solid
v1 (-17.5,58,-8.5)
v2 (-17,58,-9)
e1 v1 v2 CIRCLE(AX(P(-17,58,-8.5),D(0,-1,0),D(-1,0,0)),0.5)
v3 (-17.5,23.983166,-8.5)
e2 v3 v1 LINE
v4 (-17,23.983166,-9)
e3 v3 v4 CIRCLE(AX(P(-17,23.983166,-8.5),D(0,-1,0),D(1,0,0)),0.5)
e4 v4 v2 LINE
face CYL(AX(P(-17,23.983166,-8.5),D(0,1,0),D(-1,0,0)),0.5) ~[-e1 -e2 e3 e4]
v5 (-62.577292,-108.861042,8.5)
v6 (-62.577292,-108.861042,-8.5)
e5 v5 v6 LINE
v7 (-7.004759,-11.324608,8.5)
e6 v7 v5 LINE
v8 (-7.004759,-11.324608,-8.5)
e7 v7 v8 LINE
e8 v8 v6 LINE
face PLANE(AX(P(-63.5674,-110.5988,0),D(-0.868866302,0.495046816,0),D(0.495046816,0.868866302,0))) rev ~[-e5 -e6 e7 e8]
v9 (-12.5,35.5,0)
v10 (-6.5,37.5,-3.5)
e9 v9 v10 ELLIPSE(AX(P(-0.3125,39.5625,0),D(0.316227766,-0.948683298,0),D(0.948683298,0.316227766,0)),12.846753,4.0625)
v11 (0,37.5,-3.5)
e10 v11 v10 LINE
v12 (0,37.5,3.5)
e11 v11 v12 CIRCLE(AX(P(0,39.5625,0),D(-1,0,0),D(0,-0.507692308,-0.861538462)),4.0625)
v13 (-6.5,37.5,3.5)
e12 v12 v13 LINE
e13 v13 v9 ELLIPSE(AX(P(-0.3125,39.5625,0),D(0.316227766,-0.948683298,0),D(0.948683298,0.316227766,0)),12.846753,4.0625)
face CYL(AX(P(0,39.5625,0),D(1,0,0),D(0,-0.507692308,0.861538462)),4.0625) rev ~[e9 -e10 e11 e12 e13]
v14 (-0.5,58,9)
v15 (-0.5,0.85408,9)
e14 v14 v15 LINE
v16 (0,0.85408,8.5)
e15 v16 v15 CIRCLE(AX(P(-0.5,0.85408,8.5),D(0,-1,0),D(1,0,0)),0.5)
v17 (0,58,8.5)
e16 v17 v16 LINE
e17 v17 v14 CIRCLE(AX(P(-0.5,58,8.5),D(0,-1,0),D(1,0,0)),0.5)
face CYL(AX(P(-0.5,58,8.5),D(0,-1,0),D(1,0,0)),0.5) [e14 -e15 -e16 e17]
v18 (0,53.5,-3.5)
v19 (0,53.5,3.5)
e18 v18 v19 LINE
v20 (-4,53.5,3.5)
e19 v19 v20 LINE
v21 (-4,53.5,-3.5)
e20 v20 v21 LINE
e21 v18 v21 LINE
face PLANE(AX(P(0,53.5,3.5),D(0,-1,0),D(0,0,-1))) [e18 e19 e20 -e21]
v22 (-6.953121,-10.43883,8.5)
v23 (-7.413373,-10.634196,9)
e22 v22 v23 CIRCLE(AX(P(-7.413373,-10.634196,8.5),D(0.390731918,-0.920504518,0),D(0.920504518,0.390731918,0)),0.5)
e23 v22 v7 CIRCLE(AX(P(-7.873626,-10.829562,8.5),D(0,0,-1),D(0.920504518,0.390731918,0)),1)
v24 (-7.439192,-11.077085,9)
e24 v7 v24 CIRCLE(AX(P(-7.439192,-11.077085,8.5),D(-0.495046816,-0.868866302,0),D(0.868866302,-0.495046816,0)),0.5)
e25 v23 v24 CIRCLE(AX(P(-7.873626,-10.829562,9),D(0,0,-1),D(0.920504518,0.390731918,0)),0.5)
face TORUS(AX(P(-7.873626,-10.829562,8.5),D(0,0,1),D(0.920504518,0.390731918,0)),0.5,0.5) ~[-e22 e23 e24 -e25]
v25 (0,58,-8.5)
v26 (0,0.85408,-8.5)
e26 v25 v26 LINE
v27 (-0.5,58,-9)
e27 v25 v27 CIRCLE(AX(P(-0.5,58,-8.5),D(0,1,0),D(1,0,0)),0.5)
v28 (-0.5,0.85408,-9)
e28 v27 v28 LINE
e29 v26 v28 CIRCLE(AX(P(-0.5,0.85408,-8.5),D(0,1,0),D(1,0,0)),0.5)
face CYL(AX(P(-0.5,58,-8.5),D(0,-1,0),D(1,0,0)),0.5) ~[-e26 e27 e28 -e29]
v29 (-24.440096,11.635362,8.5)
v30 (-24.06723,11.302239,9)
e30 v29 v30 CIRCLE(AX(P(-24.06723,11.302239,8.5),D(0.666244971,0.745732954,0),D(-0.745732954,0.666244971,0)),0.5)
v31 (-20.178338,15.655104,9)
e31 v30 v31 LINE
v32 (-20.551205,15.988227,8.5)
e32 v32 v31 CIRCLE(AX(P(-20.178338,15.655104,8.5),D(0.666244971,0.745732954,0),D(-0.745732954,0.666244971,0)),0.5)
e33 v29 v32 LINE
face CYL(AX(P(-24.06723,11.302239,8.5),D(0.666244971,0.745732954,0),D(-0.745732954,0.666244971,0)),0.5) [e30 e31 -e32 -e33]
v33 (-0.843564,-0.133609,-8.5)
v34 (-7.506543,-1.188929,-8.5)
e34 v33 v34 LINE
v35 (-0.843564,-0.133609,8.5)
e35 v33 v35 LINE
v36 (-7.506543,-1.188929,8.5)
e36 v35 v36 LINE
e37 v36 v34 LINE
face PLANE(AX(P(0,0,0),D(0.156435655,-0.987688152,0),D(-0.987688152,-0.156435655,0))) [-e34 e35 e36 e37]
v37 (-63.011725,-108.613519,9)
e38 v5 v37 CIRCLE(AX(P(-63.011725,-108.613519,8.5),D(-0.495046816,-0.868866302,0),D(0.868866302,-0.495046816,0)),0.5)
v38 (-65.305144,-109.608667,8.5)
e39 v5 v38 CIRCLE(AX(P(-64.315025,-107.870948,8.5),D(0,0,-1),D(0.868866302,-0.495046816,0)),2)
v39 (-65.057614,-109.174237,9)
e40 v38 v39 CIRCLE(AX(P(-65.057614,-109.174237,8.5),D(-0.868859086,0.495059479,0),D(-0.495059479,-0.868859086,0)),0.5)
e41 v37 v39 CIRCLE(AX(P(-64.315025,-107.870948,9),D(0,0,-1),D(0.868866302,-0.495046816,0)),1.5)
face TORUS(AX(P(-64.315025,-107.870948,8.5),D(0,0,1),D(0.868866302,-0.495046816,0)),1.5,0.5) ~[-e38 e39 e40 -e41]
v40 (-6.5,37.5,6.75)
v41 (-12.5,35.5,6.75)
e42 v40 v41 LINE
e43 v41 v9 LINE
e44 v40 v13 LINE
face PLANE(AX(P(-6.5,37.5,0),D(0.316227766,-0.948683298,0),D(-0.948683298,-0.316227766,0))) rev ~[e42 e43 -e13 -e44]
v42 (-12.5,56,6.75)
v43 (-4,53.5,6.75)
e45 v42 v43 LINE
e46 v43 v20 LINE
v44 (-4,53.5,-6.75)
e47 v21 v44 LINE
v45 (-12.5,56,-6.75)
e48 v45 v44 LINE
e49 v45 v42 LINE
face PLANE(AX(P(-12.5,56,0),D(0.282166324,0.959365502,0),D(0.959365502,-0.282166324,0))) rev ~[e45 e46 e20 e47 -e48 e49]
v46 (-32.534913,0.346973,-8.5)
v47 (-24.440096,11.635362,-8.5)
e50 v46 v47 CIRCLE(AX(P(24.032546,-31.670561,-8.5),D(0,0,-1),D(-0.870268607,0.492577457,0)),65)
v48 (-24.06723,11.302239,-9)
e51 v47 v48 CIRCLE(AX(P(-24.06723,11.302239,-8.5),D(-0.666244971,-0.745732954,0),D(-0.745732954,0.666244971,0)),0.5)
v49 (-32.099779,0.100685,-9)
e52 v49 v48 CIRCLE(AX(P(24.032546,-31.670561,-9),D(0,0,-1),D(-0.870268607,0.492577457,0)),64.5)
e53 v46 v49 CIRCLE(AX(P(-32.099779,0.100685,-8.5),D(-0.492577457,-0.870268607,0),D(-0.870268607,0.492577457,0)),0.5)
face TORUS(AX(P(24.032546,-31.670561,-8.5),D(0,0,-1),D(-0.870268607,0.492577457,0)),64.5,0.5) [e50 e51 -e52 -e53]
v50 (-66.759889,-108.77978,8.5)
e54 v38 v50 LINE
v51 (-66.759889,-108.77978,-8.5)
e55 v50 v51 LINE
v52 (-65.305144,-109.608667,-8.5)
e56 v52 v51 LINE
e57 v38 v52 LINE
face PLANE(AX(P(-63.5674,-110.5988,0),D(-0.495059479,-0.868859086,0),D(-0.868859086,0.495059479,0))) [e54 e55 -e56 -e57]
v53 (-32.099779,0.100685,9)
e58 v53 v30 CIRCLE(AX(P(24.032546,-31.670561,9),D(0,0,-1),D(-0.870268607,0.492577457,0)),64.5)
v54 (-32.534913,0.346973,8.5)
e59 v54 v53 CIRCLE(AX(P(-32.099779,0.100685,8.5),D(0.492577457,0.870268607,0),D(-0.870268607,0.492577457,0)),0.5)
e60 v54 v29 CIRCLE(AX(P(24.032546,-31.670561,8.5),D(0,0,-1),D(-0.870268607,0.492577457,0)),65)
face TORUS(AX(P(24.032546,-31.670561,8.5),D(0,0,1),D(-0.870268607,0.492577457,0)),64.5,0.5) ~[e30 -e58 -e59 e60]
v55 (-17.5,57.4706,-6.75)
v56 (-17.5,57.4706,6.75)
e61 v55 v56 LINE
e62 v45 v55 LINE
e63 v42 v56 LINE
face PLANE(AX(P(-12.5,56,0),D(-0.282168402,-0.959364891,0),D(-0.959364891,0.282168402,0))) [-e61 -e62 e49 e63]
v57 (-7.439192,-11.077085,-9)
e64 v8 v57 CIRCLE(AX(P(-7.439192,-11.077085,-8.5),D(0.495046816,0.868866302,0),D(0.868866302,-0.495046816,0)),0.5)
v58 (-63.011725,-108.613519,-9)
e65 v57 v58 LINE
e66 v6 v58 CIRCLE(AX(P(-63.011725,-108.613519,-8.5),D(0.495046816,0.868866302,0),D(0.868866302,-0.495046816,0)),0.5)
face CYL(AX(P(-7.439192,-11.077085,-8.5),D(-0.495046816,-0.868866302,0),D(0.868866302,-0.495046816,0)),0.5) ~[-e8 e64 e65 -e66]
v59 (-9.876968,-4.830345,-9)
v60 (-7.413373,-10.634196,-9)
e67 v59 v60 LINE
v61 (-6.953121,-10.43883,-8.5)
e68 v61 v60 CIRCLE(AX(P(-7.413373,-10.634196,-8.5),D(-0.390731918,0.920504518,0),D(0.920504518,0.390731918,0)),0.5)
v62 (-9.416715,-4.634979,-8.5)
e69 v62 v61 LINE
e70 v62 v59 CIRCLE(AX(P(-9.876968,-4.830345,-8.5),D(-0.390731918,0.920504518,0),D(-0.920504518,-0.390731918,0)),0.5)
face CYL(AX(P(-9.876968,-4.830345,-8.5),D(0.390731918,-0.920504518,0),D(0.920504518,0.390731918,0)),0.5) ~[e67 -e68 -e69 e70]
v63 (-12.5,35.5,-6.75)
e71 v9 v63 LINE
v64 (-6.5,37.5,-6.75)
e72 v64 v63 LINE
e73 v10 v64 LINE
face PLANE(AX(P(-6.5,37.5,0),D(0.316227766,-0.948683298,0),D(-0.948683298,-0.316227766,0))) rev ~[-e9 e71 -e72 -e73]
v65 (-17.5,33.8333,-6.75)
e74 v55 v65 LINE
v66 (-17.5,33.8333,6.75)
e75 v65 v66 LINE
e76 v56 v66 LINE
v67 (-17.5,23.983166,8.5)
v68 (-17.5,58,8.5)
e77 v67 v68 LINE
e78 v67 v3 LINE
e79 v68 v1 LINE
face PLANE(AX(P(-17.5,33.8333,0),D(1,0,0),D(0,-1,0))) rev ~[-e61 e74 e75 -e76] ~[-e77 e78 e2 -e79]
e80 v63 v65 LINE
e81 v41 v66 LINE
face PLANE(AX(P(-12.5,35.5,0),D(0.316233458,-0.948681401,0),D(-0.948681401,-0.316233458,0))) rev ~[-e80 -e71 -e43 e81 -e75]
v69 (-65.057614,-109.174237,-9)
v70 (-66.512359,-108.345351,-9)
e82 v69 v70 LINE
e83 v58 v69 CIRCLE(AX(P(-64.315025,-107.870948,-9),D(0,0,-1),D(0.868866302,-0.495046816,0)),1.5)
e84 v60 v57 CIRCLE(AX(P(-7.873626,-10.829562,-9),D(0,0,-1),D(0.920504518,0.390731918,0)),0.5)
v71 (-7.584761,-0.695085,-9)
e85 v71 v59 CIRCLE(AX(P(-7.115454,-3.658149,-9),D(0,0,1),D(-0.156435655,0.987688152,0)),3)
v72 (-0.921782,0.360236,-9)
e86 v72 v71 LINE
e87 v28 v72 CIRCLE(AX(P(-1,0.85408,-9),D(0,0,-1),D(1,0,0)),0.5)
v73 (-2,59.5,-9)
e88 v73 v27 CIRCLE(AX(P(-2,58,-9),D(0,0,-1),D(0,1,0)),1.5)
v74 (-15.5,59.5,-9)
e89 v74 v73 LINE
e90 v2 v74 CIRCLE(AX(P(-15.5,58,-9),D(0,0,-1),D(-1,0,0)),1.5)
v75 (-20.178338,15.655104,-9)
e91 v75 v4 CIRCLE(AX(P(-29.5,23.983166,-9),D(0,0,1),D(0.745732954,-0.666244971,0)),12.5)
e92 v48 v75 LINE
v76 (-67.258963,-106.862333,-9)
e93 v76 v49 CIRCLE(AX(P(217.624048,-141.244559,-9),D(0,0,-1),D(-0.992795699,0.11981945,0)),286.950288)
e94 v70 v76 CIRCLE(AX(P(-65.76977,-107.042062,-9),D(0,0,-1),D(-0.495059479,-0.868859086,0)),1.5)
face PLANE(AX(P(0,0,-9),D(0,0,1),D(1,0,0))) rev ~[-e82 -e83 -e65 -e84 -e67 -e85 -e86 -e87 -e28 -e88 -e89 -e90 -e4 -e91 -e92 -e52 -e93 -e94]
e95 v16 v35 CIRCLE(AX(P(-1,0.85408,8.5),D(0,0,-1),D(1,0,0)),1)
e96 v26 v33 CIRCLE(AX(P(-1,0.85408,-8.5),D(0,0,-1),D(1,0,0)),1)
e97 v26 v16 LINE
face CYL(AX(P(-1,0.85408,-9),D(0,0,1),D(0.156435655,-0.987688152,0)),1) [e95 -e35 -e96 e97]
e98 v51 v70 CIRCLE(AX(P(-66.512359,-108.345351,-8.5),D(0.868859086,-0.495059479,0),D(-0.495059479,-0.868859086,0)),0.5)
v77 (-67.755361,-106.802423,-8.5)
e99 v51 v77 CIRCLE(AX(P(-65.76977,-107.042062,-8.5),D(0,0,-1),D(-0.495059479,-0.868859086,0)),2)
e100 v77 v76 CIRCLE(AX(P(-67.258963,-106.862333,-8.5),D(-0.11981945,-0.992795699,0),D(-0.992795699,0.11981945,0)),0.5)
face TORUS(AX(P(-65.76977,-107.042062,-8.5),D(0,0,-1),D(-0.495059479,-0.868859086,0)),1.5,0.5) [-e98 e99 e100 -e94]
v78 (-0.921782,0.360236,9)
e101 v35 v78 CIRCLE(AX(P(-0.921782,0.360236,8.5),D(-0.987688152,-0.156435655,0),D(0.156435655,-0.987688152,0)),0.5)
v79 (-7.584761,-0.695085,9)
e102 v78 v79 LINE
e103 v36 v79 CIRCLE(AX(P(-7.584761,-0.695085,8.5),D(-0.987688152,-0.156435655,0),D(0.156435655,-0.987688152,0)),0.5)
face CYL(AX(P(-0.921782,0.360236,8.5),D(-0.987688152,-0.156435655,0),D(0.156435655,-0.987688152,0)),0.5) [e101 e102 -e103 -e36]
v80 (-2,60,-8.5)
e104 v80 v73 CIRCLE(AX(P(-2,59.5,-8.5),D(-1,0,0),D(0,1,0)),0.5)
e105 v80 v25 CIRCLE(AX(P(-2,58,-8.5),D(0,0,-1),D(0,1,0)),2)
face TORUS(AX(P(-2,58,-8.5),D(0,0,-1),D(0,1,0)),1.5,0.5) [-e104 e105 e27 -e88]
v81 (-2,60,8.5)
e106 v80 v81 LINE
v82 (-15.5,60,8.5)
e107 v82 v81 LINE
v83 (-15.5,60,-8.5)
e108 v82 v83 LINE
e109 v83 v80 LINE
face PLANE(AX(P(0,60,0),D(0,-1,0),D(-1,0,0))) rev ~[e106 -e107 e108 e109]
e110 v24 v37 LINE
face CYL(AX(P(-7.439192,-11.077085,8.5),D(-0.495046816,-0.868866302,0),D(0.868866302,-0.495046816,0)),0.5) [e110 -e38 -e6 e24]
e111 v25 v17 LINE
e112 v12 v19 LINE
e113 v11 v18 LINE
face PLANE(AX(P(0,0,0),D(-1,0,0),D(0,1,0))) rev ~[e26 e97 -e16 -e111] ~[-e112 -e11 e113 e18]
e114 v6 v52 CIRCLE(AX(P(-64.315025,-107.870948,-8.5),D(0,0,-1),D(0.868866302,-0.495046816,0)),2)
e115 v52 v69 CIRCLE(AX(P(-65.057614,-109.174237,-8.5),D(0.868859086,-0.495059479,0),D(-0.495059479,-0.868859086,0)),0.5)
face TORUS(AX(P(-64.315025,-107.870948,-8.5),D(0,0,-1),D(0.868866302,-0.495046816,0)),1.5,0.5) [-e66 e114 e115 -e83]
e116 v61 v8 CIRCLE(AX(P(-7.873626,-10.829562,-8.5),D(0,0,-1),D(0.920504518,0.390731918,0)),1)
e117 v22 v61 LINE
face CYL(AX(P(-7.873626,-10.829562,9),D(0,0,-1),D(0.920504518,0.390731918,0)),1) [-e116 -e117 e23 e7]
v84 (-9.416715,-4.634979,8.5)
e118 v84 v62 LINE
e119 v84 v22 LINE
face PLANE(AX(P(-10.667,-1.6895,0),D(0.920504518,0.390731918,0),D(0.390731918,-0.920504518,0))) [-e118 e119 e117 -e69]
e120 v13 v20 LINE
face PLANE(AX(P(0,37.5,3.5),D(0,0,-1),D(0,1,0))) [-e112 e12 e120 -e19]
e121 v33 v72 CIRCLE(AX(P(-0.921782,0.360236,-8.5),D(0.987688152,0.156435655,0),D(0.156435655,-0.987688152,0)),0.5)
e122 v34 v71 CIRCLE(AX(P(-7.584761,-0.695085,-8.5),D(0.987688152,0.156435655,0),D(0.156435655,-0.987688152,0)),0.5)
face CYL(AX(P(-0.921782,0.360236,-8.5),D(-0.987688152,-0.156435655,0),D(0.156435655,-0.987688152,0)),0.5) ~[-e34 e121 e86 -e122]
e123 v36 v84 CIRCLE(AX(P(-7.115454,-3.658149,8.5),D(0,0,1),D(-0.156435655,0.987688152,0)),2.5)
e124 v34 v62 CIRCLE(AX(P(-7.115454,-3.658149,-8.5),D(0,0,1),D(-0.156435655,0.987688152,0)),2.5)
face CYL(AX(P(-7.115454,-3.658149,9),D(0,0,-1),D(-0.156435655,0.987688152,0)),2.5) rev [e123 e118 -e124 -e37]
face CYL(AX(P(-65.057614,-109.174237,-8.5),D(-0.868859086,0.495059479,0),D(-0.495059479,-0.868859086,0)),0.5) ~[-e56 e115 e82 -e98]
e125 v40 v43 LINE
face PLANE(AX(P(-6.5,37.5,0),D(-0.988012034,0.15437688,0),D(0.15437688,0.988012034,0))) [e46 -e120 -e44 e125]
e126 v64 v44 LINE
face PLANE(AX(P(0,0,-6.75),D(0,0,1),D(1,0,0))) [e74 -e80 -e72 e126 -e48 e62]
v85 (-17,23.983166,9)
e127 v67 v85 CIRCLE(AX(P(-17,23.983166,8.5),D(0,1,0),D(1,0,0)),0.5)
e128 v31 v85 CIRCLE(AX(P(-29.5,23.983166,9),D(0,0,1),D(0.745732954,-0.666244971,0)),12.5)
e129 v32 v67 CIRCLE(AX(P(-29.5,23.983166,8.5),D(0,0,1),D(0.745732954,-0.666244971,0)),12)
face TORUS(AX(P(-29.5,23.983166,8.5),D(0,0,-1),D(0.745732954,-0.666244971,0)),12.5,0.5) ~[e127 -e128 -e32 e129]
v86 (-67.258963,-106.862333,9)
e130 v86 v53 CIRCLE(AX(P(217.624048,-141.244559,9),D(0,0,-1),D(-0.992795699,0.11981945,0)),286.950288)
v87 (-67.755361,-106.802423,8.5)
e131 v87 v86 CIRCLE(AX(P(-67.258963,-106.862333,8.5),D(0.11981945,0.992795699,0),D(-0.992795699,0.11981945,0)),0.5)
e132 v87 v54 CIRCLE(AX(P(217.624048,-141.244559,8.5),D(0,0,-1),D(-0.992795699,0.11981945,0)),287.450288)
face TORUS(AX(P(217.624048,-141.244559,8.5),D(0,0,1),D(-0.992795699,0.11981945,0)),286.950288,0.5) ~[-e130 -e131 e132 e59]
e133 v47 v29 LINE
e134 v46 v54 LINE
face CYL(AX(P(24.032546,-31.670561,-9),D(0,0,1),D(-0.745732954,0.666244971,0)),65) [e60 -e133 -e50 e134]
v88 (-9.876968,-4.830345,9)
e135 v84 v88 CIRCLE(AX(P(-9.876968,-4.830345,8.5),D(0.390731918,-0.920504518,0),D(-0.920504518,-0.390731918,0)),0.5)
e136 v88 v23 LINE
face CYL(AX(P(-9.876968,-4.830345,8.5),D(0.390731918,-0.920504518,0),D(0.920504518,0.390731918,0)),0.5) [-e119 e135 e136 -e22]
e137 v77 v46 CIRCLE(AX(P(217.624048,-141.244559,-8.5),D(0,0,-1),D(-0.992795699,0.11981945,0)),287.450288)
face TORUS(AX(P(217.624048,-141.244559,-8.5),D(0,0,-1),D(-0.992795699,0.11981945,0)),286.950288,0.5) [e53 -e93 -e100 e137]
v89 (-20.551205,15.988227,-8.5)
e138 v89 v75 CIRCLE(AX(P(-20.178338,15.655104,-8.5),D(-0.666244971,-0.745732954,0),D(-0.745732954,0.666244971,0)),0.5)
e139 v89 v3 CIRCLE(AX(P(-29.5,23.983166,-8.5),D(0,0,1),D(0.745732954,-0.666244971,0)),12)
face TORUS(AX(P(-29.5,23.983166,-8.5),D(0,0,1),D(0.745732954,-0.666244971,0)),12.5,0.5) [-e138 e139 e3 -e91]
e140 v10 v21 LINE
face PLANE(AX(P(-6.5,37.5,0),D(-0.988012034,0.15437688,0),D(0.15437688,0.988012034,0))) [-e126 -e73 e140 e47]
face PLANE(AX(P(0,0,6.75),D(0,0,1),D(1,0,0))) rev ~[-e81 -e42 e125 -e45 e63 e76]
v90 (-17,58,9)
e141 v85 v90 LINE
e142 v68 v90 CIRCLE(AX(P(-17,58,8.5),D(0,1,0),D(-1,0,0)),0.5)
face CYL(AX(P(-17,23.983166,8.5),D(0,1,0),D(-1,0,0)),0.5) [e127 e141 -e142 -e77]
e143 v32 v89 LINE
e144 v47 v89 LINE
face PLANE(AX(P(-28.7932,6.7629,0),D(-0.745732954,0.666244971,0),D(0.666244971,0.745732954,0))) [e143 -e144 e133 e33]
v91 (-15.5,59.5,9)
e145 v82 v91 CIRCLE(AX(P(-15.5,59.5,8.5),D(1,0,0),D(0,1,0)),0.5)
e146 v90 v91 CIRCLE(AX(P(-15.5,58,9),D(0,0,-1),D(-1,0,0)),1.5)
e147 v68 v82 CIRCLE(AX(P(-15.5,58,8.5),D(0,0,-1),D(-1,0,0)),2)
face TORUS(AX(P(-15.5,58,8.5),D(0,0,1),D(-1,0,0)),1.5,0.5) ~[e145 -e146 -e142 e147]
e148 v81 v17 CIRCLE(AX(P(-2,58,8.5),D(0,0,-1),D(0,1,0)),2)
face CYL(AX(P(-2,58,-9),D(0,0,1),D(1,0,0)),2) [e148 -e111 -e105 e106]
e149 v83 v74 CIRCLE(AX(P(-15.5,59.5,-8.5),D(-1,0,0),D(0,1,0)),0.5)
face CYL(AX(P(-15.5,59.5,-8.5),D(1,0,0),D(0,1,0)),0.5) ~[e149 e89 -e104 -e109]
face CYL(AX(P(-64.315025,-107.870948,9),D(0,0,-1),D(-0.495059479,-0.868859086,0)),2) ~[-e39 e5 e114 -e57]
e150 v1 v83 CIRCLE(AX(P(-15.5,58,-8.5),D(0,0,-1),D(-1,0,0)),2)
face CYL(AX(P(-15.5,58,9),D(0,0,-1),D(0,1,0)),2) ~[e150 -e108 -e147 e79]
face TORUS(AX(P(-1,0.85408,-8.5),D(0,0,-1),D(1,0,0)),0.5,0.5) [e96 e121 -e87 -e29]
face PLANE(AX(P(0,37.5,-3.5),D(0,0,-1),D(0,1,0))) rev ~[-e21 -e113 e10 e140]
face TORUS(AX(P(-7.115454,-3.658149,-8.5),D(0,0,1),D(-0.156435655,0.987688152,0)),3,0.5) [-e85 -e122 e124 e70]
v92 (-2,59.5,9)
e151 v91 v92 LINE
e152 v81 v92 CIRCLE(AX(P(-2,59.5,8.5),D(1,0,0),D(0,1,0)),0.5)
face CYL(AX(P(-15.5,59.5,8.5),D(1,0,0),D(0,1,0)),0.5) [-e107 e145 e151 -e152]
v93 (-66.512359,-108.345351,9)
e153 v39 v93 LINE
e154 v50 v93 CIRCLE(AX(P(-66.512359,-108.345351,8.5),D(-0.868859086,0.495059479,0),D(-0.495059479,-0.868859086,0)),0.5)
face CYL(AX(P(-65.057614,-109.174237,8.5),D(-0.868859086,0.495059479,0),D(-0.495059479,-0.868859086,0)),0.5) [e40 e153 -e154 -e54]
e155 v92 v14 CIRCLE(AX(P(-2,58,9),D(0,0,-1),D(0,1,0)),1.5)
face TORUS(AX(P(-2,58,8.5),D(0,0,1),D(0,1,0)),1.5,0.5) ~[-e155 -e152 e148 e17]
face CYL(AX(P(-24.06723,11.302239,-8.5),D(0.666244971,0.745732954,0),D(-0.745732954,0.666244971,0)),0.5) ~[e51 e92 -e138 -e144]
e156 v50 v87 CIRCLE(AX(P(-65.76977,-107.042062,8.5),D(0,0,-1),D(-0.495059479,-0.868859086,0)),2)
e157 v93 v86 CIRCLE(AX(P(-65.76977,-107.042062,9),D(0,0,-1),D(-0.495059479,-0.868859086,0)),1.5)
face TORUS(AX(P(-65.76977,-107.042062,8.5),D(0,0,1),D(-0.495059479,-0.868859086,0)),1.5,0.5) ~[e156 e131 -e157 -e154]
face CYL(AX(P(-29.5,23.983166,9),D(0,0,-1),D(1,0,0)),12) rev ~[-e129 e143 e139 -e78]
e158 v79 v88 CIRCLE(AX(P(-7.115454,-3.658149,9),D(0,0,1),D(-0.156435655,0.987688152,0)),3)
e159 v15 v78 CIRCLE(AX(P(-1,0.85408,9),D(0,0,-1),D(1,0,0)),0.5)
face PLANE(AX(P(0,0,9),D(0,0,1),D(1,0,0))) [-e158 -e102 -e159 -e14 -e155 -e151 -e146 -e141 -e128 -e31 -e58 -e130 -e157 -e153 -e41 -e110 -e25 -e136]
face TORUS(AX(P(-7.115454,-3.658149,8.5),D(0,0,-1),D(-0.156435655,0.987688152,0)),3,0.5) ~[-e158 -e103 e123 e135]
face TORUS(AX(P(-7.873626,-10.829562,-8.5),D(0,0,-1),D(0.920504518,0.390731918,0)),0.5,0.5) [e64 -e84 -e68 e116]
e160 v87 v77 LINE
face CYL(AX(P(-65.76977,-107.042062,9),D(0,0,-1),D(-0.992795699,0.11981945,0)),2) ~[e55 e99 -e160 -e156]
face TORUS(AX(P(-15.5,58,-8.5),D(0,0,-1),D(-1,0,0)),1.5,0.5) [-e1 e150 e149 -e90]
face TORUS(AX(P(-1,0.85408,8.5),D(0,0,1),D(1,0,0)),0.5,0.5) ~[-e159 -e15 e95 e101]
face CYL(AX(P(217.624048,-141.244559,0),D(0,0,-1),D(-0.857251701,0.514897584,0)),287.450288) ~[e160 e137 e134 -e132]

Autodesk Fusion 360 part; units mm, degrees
sketch "Sketch1" plane through (0, 0, 0) normal (1, 0, 0) x (0, 1, 0) in component "MitiVac Handle"
  line L0 (0, 0) -> (0, 3.5)
  line L1 (0, 3.5) -> (53.5, 3.5)
  line L2 (53.5, 3.5) -> (53.5, 0)
  line L3 (53.5, 0) -> (37.5, 0)
  line L4 (37.5, 0) -> (35.5, 0)
  line L5 (37.5, 0) -> (37.5, 3.5)
  line L6 (0, 0) -> (0, -3.5)
  line L7 (0, -3.5) -> (53.5, -3.5)
  line L8 (53.5, -3.5) -> (53.5, 0)
  line L9 (37.5, 0) -> (37.5, -3.5)
  arc A0 (37.5, 3.5) -> (37.5, -3.5) centre (39.5625, 0) ccw
  line L10 (0, 0) -> (53.5, 0)
  line L11 (0, 0) -> (53.5, 0)
  line L12 (0, 3.5) -> (0, 9)
  line L13 (0, -3.5) -> (0, -9)
  line L14 (0, 9) -> (30, 9)
  line L15 (30, 9) -> (30, 12.5)
  line L16 (30, 12.5) -> (60, 12.5)
  line L17 (60, 12.5) -> (60, 0)
  line L18 (0, -9) -> (30, -9)
  line L19 (30, -9) -> (30, -12.5)
  line L20 (30, -12.5) -> (60, -12.5)
  line L21 (60, -12.5) -> (60, 0)
  dimension "d1" = 3.5
  dimension "d2" = 53.5
  dimension "d3" = 3.5
  dimension "d4" = 16
  dimension "d5" = 2
  dimension "d6" = 3.5
  dimension "d7" = 53.5
  dimension "d8" = 5.5
  dimension "d9" = 5.5
  dimension "d10" = 30
  dimension "d11" = 3.5
  dimension "d12" = 30
  dimension "d13" = 12.5
  dimension "d14" = 30
  dimension "d15" = 3.5
  dimension "d16" = 30
sketch "Sketch2" plane through (0, 0, 0) normal (0, 0, 1) x (1, 0, 0) in component "MitiVac Handle"
  line L0 (0, 0) -> (0, 53.5)
  line L1 (0, 0) -> (-10.667, -1.6895)
  line L2 (0, 0) -> (9, 0) construction
  line L3 (-10.667, -1.6895) -> (-6.7597, -10.8945)
  line L4 (-10.667, -1.6895) -> (-0.667, -1.6895) construction
  line L5 (0, 0) -> (-6.7597, -10.8945)
  line L6 (-6.7597, -10.8945) -> (18.2403, -10.8945) construction
  line L7 (0, 0) -> (0, -40)
  line L8 (0, -40) -> (-63.5674, -110.5988)
  line L9 (0, -40) -> (95, -40) construction
  line L10 (-63.5674, -110.5988) -> (-6.7597, -10.8945)
  line L11 (0, 53.5) -> (0, 60)
  line L12 (0, 60) -> (-12.5, 60)
  line L13 (-12.5, 60) -> (-12.5, 25)
  line L14 (-63.5674, -110.5988) -> (-67.9117, -108.1235)
  line L15 (-10.667, -1.6895) -> (-28.7932, 6.7629)
  line L16 (-10.667, -1.6895) -> (9.333, -1.6895) construction
  line L17 (-28.7932, 6.7629) -> (-12.5, 25)
  line L18 (-28.7932, 6.7629) -> (-54.1503, -47.6156)
  arc A0 (-28.7932, 6.7629) -> (-67.9117, -108.1235) centre (217.624, -141.2447) ccw
  line L19 (0, 53.5) -> (-4, 53.5)
  line L20 (0, 53.5) -> (0, 37.5)
  line L21 (0, 37.5) -> (0, 35.5)
  line L22 (0, 37.5) -> (-6.5, 37.5)
  line L23 (-6.5, 37.5) -> (-4, 53.5)
  line L24 (-12.5, 60) -> (-12.5, 56)
  line L25 (-12.5, 56) -> (-4, 53.5)
  line L26 (-6.5, 37.5) -> (-12.5, 37.5)
  line L27 (-12.5, 37.5) -> (-12.5, 35.5)
  line L28 (-6.5, 37.5) -> (-12.5, 35.5)
  line L29 (-12.5, 60) -> (-17.5, 60)
  line L30 (-17.5, 60) -> (-17.5, 19.4035)
  line L31 (-12.5, 35.5) -> (-17.5, 33.8333)
  line L32 (-12.5, 56) -> (-17.5, 57.4706)
  dimension "d17" = 53.5
  dimension "d18" = 10.8
  dimension "d19" = 171
  dimension "d20" = 67
  dimension "d21" = 10
  dimension "d24" = 40
  dimension "d25" = 132
  dimension "d26" = 95
  dimension "d27" = 6.5
  dimension "d28" = 12.5
  dimension "d29" = 35
  dimension "d30" = 5
  dimension "d31" = 155
  dimension "d32" = 20
  dimension "d33" = 60
  dimension "d34" = 4
  dimension "d35" = 16
  dimension "d36" = 2
  dimension "d37" = 6.5
  dimension "d38" = 4
  dimension "d39" = 2
  dimension "d66" = 5
extrude "Extrude1" add sketch "Sketch2" along normal mid plane 18 contours L0 L1 L13 L15 L17 L21 L22 L28 | L3 L10 L14 L15 L18 A0 | L0 L19 L20 L22 L23 | L18 A0 | L11 L12 L13 L19 L24 L25 | L13 L23 L25 L26 | L13 L26 L27 L28 | L13 L17 L30 L31 | L13 L27 L30 L31 L32 | L13 L24 L29 L30 L32 in component "MitiVac Handle"
extrude "Extrude3" cut sketch "Sketch1" against normal up to surface (17.5 mm away) contours L4 L5 A0 L10 L11 | L4 L9 A0 L10 L11 | L1 L2 L3 L5 L10 L11 | L3 L7 L8 L9 L10 L11 in component "MitiVac Handle"
extrude "Extrude4" cut sketch "Sketch2" along normal mid plane 13.5 contours L13 L23 L25 L26 | L13 L26 L27 L28 | L13 L27 L30 L31 L32 in component "MitiVac Handle"
fillet "Fillet2" radius 2.5 1 edges at (-10.667, -1.6895, 0) in component "MitiVac Handle"
fillet "Fillet2" radius 1 2 edges at (0, 0, 0) (-6.7597, -10.8945, 0) in component "MitiVac Handle"
fillet "Fillet2" radius 2 2 edges at (0, 60, 0) (-17.5, 60, 0) in component "MitiVac Handle"
fillet "Fillet2" radius 12 1 edges at (-17.5, 19.4035, 0) in component "MitiVac Handle"
fillet "Fillet2" radius 65 1 edges at (-28.7932, 6.7629, 0) in component "MitiVac Handle"
fillet "Fillet2" radius 2 2 edges at (-67.9117, -108.1235, 0) (-63.5674, -110.5988, 0) in component "MitiVac Handle"
fillet "Fillet3" radius 0.5 2 faces at (-29.4988, -14.8978, 9) (-29.4988, -14.8978, -9) in component "MitiVac Handle"
component "MitiVac Handle" placed x (1, 0, 0) y (0, 1, 0) z (0, 0, 1) at (0, 0, 0)
equation "d3 = d1"
equation "d6 = d1"
equation "d7 = d2"
equation "d8 = ( 18 / 2 ) * 1 mm - 3.5 mm"
equation "d9 = d8"
equation "d11 = ( 25 / 2 ) * 1 mm - d8 - d1"
equation "d12 = 60 mm - d10"
equation "d13 = d11 + d8 + d1"
equation "d14 = d10"
equation "d15 = d11"
equation "d16 = d12"
equation "d19 = 180 deg - 9 deg"
equation "d25 = 270 deg - 138 deg"
equation "d46 = ( 13.5 / 2 ) * 1 mm"
